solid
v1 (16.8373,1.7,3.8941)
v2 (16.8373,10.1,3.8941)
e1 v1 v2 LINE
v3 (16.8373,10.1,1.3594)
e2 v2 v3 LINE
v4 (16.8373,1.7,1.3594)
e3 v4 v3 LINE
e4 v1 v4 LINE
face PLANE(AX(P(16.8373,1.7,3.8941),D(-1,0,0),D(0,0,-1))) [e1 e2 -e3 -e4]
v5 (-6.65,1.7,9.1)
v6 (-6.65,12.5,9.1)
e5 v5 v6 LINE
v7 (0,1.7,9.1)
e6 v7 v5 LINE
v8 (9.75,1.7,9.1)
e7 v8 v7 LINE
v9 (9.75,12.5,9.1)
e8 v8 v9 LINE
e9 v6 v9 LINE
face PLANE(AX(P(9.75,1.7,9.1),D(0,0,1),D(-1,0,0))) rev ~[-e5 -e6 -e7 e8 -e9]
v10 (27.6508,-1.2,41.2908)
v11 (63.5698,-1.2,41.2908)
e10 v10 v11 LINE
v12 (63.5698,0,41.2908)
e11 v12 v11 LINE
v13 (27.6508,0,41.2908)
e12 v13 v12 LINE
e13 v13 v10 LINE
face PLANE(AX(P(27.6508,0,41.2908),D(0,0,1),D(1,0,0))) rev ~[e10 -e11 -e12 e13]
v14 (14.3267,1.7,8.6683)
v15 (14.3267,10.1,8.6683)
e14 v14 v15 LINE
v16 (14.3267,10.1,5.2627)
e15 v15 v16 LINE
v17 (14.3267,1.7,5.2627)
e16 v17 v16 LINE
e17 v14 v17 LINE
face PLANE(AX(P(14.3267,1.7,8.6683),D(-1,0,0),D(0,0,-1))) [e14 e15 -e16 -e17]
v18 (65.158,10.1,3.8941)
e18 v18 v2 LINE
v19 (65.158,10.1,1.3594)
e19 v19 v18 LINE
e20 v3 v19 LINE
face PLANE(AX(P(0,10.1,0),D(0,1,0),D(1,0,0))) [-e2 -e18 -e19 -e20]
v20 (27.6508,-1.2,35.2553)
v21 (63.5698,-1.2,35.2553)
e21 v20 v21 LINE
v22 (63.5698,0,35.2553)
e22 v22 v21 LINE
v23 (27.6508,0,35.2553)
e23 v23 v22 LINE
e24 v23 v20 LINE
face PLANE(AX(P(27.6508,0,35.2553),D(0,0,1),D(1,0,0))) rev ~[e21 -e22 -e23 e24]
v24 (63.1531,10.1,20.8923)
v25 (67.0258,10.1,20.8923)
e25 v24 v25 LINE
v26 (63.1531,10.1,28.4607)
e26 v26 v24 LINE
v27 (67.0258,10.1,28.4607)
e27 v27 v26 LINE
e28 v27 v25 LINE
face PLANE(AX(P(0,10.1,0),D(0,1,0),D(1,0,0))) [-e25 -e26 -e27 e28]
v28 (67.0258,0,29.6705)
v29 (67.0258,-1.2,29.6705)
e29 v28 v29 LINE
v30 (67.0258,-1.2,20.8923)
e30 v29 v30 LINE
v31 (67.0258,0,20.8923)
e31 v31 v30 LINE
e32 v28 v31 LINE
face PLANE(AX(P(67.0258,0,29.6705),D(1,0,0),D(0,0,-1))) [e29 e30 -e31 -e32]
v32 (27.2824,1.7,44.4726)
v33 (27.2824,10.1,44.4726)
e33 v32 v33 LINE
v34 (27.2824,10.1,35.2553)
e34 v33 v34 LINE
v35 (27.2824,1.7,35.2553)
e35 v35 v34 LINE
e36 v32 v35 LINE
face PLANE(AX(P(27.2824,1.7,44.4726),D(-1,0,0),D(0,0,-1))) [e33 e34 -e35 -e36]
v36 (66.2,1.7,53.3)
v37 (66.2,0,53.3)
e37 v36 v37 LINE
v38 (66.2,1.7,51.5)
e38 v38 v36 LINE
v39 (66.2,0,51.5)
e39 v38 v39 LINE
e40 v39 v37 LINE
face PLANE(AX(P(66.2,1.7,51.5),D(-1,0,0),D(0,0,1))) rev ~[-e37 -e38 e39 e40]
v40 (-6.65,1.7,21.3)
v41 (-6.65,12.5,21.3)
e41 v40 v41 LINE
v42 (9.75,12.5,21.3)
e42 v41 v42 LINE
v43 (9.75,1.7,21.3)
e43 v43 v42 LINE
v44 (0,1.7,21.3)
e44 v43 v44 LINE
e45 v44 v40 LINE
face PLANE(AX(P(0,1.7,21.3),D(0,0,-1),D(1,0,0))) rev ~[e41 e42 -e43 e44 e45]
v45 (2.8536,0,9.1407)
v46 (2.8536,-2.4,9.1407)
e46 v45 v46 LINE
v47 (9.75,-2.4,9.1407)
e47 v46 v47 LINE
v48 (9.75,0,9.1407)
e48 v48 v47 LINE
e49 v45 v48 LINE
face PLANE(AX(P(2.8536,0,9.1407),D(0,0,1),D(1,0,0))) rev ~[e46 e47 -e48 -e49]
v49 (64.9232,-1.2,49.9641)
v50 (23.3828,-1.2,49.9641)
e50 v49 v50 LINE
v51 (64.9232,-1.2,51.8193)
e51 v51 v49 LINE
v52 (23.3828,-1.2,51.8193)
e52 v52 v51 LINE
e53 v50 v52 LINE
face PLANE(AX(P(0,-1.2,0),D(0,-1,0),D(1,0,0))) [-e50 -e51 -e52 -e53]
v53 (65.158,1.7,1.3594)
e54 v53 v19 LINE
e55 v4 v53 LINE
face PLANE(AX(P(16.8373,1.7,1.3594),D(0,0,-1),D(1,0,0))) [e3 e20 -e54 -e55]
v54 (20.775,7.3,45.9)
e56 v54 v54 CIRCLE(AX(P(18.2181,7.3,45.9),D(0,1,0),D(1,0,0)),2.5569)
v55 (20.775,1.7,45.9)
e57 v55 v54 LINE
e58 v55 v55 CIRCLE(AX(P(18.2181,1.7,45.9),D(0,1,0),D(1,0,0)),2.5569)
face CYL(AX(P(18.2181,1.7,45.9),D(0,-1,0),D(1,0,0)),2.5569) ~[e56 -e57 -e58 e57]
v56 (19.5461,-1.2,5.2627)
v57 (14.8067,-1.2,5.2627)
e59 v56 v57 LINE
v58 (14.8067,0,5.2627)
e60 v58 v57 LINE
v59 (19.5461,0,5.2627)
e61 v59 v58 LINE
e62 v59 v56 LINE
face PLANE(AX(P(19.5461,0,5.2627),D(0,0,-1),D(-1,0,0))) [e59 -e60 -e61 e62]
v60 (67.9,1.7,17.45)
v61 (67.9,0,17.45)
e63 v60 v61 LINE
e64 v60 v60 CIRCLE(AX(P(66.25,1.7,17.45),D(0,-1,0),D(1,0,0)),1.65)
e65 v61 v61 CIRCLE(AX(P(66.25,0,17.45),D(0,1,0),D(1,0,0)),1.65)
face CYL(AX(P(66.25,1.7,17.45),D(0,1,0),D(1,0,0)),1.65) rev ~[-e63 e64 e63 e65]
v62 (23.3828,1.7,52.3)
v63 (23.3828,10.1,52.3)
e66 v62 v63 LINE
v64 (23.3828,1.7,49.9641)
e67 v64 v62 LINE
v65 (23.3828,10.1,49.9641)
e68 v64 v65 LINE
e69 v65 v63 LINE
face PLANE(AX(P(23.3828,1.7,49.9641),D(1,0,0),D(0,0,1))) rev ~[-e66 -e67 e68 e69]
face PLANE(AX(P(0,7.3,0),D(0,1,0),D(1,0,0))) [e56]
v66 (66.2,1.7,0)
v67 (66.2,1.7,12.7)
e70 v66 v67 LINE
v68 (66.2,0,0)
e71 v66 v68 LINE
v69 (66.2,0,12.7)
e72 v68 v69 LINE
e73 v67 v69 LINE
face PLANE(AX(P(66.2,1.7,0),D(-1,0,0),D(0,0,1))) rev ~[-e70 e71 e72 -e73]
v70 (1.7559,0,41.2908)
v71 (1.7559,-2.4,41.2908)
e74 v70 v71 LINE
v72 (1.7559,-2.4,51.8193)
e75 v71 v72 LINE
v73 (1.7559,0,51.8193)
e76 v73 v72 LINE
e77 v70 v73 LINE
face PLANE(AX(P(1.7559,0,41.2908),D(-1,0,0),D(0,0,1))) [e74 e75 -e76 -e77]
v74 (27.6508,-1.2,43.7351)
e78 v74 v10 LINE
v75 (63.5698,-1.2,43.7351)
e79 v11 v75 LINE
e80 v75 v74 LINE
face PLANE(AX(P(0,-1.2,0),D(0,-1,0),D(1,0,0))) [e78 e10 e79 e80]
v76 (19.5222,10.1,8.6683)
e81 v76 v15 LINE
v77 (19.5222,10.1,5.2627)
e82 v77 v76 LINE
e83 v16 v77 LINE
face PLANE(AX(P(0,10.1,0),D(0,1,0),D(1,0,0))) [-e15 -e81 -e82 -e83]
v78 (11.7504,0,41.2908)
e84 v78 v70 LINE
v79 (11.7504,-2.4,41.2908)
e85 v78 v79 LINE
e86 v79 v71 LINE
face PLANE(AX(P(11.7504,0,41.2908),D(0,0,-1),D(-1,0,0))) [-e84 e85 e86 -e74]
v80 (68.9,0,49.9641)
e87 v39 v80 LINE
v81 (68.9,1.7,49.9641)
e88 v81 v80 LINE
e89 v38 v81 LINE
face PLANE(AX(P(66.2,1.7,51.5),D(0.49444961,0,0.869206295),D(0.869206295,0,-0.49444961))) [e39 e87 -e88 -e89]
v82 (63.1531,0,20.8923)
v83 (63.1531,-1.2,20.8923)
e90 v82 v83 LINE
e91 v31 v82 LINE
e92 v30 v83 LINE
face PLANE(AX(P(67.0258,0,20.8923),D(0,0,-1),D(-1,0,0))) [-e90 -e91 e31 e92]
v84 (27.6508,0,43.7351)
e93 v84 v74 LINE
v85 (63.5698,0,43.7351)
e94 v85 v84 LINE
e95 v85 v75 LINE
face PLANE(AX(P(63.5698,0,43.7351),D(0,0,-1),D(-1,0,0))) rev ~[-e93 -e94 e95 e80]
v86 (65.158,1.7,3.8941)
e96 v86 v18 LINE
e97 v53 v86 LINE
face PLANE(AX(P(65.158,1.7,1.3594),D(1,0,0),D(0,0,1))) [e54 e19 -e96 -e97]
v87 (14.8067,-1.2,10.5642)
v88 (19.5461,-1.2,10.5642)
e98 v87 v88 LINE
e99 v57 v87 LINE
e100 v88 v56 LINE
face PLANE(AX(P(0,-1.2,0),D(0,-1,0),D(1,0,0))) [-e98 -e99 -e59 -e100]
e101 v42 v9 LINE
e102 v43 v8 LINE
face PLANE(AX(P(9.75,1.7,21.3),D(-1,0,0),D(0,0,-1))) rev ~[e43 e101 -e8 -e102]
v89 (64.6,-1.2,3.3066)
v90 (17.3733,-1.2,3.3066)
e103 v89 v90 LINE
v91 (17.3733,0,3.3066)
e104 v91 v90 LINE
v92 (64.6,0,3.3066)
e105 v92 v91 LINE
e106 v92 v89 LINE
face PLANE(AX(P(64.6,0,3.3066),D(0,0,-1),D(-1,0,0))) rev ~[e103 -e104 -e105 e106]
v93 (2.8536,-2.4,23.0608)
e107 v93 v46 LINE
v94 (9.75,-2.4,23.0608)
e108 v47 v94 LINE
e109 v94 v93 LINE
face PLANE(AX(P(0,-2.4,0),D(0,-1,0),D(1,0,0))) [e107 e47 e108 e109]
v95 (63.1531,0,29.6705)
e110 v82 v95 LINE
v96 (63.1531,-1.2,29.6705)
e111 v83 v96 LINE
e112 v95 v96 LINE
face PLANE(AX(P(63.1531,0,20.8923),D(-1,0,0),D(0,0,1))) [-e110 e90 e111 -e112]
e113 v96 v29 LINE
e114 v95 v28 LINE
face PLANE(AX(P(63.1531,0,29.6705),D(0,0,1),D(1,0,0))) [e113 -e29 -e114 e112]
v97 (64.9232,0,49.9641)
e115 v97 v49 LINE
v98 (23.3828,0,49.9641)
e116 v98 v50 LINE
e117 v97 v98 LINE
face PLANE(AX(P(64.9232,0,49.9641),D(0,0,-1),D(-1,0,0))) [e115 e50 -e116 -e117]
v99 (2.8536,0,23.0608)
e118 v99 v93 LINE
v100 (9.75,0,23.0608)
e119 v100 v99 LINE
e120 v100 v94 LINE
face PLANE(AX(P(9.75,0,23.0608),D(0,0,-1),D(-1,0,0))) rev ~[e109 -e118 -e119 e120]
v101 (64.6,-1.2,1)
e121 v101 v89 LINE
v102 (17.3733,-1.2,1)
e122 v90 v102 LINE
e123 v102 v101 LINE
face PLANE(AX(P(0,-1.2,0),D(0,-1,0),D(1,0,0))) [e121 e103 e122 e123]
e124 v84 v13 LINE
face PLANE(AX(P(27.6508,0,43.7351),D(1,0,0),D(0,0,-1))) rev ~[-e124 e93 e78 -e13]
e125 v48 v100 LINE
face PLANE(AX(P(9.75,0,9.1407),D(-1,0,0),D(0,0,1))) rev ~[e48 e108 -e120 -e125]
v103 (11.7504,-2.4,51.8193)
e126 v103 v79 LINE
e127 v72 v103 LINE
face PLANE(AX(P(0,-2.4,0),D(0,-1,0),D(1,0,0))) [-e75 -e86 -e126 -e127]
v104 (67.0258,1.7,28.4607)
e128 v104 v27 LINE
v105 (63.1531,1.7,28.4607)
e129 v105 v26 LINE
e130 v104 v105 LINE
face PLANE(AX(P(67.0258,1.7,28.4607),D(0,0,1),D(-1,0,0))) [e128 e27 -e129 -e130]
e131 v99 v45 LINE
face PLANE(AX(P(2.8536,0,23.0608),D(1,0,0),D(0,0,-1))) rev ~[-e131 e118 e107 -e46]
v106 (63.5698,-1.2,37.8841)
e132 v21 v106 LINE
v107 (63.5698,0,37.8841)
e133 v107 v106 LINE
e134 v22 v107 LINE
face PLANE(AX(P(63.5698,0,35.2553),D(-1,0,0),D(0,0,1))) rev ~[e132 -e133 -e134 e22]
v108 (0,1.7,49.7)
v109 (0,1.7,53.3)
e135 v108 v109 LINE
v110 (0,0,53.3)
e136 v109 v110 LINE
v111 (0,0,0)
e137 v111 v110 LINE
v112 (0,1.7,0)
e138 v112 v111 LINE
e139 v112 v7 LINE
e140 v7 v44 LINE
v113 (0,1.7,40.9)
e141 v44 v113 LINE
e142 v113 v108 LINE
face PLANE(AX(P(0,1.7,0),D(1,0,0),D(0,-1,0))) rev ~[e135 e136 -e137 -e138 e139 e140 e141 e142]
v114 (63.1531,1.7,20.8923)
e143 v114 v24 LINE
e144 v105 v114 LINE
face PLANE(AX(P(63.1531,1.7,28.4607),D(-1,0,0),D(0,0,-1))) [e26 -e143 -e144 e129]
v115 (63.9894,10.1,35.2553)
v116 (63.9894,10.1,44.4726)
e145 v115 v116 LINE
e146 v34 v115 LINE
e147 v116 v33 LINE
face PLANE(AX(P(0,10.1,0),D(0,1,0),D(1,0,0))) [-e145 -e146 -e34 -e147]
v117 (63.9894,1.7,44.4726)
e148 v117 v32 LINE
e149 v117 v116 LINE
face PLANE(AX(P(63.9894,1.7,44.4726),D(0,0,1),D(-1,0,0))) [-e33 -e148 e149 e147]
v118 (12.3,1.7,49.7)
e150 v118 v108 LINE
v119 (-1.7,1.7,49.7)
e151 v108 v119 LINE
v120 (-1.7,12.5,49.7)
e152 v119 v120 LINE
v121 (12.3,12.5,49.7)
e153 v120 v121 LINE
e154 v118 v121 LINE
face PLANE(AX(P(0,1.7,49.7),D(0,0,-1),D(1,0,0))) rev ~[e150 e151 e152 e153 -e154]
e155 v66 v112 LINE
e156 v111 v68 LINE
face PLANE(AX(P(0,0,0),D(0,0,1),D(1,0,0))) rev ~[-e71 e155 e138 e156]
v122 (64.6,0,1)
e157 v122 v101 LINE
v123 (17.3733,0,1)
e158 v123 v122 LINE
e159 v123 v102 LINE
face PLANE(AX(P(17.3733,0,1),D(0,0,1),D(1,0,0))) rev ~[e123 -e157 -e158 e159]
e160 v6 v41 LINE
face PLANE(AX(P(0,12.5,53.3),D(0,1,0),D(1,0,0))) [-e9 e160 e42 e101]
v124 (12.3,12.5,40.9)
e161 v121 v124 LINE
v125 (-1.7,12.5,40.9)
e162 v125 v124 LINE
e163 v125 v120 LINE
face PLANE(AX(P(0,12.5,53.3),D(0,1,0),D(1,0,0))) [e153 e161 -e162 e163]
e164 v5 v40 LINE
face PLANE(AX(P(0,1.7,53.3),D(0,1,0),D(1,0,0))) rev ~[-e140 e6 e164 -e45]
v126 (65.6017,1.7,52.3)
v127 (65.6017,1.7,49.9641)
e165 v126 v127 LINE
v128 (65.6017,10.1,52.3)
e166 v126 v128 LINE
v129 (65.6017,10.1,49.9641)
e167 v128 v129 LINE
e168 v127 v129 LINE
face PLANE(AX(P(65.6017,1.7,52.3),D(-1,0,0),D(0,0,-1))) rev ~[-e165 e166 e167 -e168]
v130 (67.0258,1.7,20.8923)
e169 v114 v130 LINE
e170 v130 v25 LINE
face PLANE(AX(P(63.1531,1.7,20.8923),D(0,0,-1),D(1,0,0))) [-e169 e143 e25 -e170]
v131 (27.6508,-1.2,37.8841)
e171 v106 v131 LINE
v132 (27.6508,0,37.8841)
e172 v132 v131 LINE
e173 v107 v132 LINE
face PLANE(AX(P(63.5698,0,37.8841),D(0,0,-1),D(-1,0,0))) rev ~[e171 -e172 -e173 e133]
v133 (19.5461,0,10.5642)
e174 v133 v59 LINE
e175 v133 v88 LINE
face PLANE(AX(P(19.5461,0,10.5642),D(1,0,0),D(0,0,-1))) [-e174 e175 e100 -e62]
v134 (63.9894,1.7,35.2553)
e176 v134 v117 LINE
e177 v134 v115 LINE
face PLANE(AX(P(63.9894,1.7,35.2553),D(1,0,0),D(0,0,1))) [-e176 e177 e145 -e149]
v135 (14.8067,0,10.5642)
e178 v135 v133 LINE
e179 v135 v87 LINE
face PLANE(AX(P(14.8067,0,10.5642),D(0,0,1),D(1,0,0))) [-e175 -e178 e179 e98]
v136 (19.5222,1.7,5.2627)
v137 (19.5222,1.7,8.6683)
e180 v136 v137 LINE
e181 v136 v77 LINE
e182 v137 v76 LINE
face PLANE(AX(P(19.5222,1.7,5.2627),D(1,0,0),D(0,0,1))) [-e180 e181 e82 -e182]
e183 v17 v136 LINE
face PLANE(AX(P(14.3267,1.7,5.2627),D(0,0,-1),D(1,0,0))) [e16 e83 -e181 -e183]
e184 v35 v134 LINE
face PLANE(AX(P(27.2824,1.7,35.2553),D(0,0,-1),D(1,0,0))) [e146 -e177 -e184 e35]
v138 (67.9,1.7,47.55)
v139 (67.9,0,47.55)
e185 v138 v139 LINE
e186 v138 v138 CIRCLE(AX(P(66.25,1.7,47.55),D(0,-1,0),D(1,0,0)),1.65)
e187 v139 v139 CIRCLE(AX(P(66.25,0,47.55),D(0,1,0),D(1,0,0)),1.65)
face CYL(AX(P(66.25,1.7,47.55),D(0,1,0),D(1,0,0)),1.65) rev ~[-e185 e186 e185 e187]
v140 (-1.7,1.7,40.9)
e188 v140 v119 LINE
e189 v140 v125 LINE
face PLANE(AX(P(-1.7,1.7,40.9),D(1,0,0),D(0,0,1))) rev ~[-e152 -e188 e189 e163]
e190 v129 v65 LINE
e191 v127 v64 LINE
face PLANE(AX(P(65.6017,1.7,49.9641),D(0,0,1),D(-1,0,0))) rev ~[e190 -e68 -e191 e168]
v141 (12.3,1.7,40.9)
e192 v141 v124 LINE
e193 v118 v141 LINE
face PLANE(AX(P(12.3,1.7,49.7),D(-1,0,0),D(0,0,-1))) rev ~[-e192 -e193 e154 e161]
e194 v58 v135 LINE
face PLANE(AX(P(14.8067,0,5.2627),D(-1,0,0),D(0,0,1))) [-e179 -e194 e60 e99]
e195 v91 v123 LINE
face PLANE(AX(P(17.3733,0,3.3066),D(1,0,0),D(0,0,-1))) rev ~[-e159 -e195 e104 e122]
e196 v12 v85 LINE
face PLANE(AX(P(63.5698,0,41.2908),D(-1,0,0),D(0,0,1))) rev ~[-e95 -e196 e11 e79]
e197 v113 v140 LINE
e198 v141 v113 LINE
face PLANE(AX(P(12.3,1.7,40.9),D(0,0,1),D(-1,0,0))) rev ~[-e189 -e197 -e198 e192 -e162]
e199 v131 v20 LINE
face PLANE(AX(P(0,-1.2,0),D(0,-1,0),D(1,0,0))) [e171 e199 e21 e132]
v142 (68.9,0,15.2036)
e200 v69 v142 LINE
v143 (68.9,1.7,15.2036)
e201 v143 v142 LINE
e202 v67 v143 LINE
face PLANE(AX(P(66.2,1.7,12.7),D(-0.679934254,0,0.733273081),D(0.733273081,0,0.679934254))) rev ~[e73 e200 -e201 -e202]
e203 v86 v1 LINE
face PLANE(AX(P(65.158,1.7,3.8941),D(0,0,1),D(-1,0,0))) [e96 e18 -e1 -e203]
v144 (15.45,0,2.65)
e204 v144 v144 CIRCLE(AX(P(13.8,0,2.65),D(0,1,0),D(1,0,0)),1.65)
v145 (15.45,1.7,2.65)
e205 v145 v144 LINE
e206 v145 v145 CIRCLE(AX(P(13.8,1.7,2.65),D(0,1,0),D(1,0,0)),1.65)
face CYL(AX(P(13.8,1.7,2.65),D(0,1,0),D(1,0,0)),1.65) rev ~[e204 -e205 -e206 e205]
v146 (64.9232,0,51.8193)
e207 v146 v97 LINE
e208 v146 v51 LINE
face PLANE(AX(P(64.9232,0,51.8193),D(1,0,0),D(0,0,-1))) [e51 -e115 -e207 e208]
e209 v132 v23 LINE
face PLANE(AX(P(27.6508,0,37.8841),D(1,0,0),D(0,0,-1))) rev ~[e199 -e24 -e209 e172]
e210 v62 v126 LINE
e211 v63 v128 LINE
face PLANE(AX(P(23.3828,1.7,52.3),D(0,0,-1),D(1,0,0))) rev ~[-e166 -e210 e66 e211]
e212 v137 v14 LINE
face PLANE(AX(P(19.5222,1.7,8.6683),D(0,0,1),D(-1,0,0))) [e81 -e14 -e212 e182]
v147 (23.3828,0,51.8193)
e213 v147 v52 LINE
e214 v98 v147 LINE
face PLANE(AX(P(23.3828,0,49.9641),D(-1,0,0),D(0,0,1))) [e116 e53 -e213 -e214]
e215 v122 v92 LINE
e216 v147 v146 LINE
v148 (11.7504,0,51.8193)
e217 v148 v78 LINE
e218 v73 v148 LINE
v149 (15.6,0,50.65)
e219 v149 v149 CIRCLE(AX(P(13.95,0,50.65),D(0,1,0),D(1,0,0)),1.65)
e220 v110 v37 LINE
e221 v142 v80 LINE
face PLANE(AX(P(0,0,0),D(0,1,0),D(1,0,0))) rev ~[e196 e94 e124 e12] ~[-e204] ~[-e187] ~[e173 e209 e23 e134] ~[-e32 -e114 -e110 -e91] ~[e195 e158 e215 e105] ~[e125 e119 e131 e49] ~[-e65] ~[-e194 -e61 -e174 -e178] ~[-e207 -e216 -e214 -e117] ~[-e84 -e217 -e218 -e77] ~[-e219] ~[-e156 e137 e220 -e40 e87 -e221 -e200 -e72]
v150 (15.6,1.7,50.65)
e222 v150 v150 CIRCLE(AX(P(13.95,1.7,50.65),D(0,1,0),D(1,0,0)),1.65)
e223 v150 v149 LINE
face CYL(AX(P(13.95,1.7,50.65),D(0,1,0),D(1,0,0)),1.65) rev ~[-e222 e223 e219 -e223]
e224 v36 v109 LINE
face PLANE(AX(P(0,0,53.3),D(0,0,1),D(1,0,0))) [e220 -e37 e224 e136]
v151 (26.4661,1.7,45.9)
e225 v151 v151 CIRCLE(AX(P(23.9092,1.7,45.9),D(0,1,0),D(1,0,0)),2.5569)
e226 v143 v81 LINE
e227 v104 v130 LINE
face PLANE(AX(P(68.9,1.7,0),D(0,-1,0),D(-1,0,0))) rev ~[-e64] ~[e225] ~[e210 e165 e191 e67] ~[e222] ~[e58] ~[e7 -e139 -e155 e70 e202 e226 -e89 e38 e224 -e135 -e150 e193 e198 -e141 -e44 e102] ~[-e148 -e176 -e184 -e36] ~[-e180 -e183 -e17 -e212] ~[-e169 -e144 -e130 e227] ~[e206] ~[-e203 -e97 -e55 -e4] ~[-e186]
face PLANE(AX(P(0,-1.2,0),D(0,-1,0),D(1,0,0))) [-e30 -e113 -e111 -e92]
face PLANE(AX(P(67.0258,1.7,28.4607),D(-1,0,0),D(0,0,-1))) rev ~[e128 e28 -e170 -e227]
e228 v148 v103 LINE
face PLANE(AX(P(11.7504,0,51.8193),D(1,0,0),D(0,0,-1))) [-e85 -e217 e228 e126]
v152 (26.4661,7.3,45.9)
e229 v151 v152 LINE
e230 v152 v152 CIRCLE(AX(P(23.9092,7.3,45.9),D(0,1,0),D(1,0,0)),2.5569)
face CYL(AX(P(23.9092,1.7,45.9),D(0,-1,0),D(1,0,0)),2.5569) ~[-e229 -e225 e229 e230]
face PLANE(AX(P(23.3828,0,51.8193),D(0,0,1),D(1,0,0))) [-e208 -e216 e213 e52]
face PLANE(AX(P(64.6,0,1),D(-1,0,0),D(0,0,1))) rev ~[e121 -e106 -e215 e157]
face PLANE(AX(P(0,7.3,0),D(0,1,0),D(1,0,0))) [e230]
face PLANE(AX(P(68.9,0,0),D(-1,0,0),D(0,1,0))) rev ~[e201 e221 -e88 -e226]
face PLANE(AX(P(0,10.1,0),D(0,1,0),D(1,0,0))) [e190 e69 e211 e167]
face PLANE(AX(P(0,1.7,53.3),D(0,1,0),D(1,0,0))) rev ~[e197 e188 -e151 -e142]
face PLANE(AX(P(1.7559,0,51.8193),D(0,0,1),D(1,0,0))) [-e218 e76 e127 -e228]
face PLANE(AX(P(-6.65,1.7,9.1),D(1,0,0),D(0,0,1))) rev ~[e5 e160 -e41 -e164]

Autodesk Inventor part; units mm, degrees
ref_plane "YZ Plane" through (0, 0, 0) normal (1, 0, 0) x (0, 1, 0)
ref_plane "XZ Plane" through (0, 0, 0) normal (0, 1, 0) x (-1, 0, 0)
ref_plane "XY Plane" through (0, 0, 0) normal (0, 0, 1) x (1, 0, 0)
sketch "Sketch1" plane through (0, 0, 0) normal (0, 0, 1) x (1, 0, 0)
  line L0 (0, 0) -> (68.9, 0)
  line L1 (68.9, 0) -> (68.9, 1.7)
  line L2 (68.9, 1.7) -> (0, 1.7)
  line L3 (0, 1.7) -> (0, 0)
  dimension "d0" = 68.9
  dimension "d1" = 1.7
extrude "Extrusion1" add sketch "Sketch1" along normal blind 53.3
sketch "Sketch2" plane through (0, 1.7, 0) normal (0, 1, 0) x (1, 0, 0)
  line L0 (0, -53.3) -> (68.9, -53.3) projected
  line L1 (68.9, 0) -> (68.9, -53.3) projected
  line L2 (68.9, 0) -> (0, 0) projected
  line L3 (0, 0) -> (0, -53.3) projected
  line L4 (66.2, 0) -> (66.2, -53.3)
  line L5 (68.9, -53.3) -> (0, -53.3) projected
  circle A0 centre (66.25, -47.55) radius 1.65
  circle A1 centre (66.25, -17.45) radius 1.65
  circle A2 centre (13.8, -2.65) radius 1.65
  circle A3 centre (13.95, -50.65) radius 1.65
  line L6 (66.2, 0) -> (66.2, -12.7)
  line L7 (66.2, -12.7) -> (68.9, -15.2036)
  line L8 (68.9, 0) -> (68.9, -15.2036)
  line L9 (68.9, 0) -> (68.9, -53.3) projected
  line L10 (66.2, 0) -> (68.9, 0)
  line L11 (0, 0) -> (68.9, 0) projected
  line L12 (68.9, 0) -> (66.2, 0)
  line L13 (66.2, -53.3) -> (66.2, -51.5)
  line L14 (66.2, -51.5) -> (68.9, -49.9641)
  line L15 (68.9, -53.3) -> (66.2, -53.3)
  line L16 (68.9, -53.3) -> (68.9, -49.9641)
  dimension "d4" = 2.7
  dimension "d5" = 5.75
  dimension "d6" = 1
  dimension "d7" = 3.3
  dimension "d8" = 3.3
  dimension "d9" = 3.3
  dimension "d10" = 3.3
  dimension "d11" = 15.8
  dimension "d12" = 1
  dimension "d13" = 1
  dimension "d14" = 1
  dimension "d15" = 13.8
  dimension "d16" = 12.3
  dimension "d17" = 12.7
  dimension "d18" = 2.5036
  dimension "d19" = 1.8
  dimension "d20" = 1.5359
extrude "Extrusion2" cut sketch "Sketch2" against normal blind 53.3 contours L4 L14 L1 L0 | L2 L1 L7 L4 | A0 L4 | L4 A0 | A1 L4 | L4 A1 | A2 | A3
sketch "Sketch3" plane through (0, 1.7, 53.3) normal (0, 1, 0) x (1, 0, 0)
  line L0 (66.2, 53.3) -> (0, 53.3) projected
  line L1 (0, 53.3) -> (0, 0) projected
  line L2 (0, 0) -> (66.2, 0) projected
  line L3 (9.75, 44.2) -> (-6.65, 44.2)
  line L4 (-6.65, 44.2) -> (-6.65, 32)
  line L5 (-6.65, 32) -> (9.75, 32)
  line L6 (9.75, 32) -> (9.75, 44.2)
  line L7 (12.3, 12.4) -> (-1.7, 12.4)
  line L8 (-1.7, 12.4) -> (-1.7, 3.6)
  line L9 (-1.7, 3.6) -> (12.3, 3.6)
  line L10 (12.3, 3.6) -> (12.3, 12.4)
  dimension "d23" = 9.1
  dimension "d24" = 9.75
  dimension "d25" = 16.4
  dimension "d26" = 12.2
  dimension "d27" = 8.8
  dimension "d28" = 14
  dimension "d29" = 12.4
  dimension "d30" = 1.7
extrude "Extrusion3" add sketch "Sketch3" along normal blind 10.8
sketch "Sketch4" plane through (0, 0, 0) normal (0, -1, 0) x (1, 0, 0)
  line L0 (1.7559, 51.8193) -> (11.7504, 51.8193)
  line L1 (11.7504, 51.8193) -> (11.7504, 41.2908)
  line L2 (11.7504, 41.2908) -> (1.7559, 41.2908)
  line L3 (1.7559, 41.2908) -> (1.7559, 51.8193)
  line L4 (2.8536, 9.1407) -> (9.75, 9.1407)
  line L5 (9.75, 9.1407) -> (9.75, 23.0608)
  line L6 (9.75, 23.0608) -> (2.8536, 23.0608)
  line L7 (2.8536, 23.0608) -> (2.8536, 9.1407)
  line L8 (17.3733, 1) -> (64.6, 1)
  line L9 (64.6, 1) -> (64.6, 3.3066)
  line L10 (64.6, 3.3066) -> (17.3733, 3.3066)
  line L11 (17.3733, 3.3066) -> (17.3733, 1)
  line L12 (14.8067, 10.5642) -> (19.5461, 10.5642)
  line L13 (19.5461, 10.5642) -> (19.5461, 5.2627)
  line L14 (19.5461, 5.2627) -> (14.8067, 5.2627)
  line L15 (14.8067, 5.2627) -> (14.8067, 10.5642)
  line L16 (23.3828, 51.8193) -> (64.9232, 51.8193)
  line L17 (64.9232, 51.8193) -> (64.9232, 49.9641)
  line L18 (64.9232, 49.9641) -> (23.3828, 49.9641)
  line L19 (23.3828, 49.9641) -> (23.3828, 51.8193)
  line L20 (63.5698, 43.7351) -> (27.6508, 43.7351)
  line L21 (27.6508, 43.7351) -> (27.6508, 41.2908)
  line L22 (27.6508, 41.2908) -> (63.5698, 41.2908)
  line L23 (63.5698, 41.2908) -> (63.5698, 43.7351)
  line L24 (63.5698, 37.8841) -> (27.6508, 37.8841)
  line L25 (27.6508, 37.8841) -> (27.6508, 35.2553)
  line L26 (27.6508, 35.2553) -> (63.5698, 35.2553)
  line L27 (63.5698, 35.2553) -> (63.5698, 37.8841)
  line L28 (63.1531, 29.6705) -> (67.0258, 29.6705)
  line L29 (67.0258, 29.6705) -> (67.0258, 20.8923)
  line L30 (67.0258, 20.8923) -> (63.1531, 20.8923)
  line L31 (63.1531, 20.8923) -> (63.1531, 29.6705)
extrude "Extrusion5" add sketch "Sketch4" along normal blind 1.2 contours L11 L10 L9 L8 | L12 L13 L14 L15 | L16 L17 L18 L19 | L23 L22 L21 L20 | L27 L26 L25 L24 | L28 L29 L30 L31
extrude "Extrusion6" add sketch "Sketch4" along normal blind 2.4 contours L0 L1 L2 L3 | L7 L6 L5 L4
sketch "Sketch5" plane through (0, 1.7, 0) normal (0, 1, 0) x (1, 0, 0)
  line L0 (16.8373, -1.3594) -> (65.158, -1.3594)
  line L1 (65.158, -1.3594) -> (65.158, -3.8941)
  line L2 (65.158, -3.8941) -> (16.8373, -3.8941)
  line L3 (16.8373, -3.8941) -> (16.8373, -1.3594)
  line L4 (14.3267, -5.2627) -> (19.5222, -5.2627)
  line L5 (19.5222, -5.2627) -> (19.5222, -8.6683)
  line L6 (19.5222, -8.6683) -> (14.3267, -8.6683)
  line L7 (14.3267, -8.6683) -> (14.3267, -5.2627)
  line L8 (67.0258, -29.6705) -> (67.0258, -20.8923) projected
  line L9 (63.1531, -20.8923) -> (67.0258, -20.8923)
  line L10 (67.0258, -20.8923) -> (67.0258, -28.4607)
  line L11 (67.0258, -28.4607) -> (63.1531, -28.4607)
  line L12 (63.1531, -28.4607) -> (63.1531, -20.8923)
  line L13 (23.3828, -52.3) -> (65.6017, -52.3)
  line L14 (65.6017, -52.3) -> (65.6017, -49.9641)
  line L15 (65.6017, -49.9641) -> (23.3828, -49.9641)
  line L16 (23.3828, -49.9641) -> (23.3828, -52.3)
  line L17 (27.2824, -35.2553) -> (63.9894, -35.2553)
  line L18 (63.9894, -35.2553) -> (63.9894, -44.4726)
  line L19 (63.9894, -44.4726) -> (27.2824, -44.4726)
  line L20 (27.2824, -44.4726) -> (27.2824, -35.2553)
  circle A0 centre (23.9092, -45.9) radius 2.5569
  circle A1 centre (18.2181, -45.9) radius 2.5569
extrude "Extrusion7" add sketch "Sketch5" along normal blind 8.4 contours L0 L1 L2 L3 | L4 L5 L6 L7 | L11 L12 L9 L8 | L16 L15 L14 L13 | L17 L18 L19 L20
extrude "Extrusion8" add sketch "Sketch5" along normal blind 5.6 contours A0 | A1
properties part number "Arduino"
